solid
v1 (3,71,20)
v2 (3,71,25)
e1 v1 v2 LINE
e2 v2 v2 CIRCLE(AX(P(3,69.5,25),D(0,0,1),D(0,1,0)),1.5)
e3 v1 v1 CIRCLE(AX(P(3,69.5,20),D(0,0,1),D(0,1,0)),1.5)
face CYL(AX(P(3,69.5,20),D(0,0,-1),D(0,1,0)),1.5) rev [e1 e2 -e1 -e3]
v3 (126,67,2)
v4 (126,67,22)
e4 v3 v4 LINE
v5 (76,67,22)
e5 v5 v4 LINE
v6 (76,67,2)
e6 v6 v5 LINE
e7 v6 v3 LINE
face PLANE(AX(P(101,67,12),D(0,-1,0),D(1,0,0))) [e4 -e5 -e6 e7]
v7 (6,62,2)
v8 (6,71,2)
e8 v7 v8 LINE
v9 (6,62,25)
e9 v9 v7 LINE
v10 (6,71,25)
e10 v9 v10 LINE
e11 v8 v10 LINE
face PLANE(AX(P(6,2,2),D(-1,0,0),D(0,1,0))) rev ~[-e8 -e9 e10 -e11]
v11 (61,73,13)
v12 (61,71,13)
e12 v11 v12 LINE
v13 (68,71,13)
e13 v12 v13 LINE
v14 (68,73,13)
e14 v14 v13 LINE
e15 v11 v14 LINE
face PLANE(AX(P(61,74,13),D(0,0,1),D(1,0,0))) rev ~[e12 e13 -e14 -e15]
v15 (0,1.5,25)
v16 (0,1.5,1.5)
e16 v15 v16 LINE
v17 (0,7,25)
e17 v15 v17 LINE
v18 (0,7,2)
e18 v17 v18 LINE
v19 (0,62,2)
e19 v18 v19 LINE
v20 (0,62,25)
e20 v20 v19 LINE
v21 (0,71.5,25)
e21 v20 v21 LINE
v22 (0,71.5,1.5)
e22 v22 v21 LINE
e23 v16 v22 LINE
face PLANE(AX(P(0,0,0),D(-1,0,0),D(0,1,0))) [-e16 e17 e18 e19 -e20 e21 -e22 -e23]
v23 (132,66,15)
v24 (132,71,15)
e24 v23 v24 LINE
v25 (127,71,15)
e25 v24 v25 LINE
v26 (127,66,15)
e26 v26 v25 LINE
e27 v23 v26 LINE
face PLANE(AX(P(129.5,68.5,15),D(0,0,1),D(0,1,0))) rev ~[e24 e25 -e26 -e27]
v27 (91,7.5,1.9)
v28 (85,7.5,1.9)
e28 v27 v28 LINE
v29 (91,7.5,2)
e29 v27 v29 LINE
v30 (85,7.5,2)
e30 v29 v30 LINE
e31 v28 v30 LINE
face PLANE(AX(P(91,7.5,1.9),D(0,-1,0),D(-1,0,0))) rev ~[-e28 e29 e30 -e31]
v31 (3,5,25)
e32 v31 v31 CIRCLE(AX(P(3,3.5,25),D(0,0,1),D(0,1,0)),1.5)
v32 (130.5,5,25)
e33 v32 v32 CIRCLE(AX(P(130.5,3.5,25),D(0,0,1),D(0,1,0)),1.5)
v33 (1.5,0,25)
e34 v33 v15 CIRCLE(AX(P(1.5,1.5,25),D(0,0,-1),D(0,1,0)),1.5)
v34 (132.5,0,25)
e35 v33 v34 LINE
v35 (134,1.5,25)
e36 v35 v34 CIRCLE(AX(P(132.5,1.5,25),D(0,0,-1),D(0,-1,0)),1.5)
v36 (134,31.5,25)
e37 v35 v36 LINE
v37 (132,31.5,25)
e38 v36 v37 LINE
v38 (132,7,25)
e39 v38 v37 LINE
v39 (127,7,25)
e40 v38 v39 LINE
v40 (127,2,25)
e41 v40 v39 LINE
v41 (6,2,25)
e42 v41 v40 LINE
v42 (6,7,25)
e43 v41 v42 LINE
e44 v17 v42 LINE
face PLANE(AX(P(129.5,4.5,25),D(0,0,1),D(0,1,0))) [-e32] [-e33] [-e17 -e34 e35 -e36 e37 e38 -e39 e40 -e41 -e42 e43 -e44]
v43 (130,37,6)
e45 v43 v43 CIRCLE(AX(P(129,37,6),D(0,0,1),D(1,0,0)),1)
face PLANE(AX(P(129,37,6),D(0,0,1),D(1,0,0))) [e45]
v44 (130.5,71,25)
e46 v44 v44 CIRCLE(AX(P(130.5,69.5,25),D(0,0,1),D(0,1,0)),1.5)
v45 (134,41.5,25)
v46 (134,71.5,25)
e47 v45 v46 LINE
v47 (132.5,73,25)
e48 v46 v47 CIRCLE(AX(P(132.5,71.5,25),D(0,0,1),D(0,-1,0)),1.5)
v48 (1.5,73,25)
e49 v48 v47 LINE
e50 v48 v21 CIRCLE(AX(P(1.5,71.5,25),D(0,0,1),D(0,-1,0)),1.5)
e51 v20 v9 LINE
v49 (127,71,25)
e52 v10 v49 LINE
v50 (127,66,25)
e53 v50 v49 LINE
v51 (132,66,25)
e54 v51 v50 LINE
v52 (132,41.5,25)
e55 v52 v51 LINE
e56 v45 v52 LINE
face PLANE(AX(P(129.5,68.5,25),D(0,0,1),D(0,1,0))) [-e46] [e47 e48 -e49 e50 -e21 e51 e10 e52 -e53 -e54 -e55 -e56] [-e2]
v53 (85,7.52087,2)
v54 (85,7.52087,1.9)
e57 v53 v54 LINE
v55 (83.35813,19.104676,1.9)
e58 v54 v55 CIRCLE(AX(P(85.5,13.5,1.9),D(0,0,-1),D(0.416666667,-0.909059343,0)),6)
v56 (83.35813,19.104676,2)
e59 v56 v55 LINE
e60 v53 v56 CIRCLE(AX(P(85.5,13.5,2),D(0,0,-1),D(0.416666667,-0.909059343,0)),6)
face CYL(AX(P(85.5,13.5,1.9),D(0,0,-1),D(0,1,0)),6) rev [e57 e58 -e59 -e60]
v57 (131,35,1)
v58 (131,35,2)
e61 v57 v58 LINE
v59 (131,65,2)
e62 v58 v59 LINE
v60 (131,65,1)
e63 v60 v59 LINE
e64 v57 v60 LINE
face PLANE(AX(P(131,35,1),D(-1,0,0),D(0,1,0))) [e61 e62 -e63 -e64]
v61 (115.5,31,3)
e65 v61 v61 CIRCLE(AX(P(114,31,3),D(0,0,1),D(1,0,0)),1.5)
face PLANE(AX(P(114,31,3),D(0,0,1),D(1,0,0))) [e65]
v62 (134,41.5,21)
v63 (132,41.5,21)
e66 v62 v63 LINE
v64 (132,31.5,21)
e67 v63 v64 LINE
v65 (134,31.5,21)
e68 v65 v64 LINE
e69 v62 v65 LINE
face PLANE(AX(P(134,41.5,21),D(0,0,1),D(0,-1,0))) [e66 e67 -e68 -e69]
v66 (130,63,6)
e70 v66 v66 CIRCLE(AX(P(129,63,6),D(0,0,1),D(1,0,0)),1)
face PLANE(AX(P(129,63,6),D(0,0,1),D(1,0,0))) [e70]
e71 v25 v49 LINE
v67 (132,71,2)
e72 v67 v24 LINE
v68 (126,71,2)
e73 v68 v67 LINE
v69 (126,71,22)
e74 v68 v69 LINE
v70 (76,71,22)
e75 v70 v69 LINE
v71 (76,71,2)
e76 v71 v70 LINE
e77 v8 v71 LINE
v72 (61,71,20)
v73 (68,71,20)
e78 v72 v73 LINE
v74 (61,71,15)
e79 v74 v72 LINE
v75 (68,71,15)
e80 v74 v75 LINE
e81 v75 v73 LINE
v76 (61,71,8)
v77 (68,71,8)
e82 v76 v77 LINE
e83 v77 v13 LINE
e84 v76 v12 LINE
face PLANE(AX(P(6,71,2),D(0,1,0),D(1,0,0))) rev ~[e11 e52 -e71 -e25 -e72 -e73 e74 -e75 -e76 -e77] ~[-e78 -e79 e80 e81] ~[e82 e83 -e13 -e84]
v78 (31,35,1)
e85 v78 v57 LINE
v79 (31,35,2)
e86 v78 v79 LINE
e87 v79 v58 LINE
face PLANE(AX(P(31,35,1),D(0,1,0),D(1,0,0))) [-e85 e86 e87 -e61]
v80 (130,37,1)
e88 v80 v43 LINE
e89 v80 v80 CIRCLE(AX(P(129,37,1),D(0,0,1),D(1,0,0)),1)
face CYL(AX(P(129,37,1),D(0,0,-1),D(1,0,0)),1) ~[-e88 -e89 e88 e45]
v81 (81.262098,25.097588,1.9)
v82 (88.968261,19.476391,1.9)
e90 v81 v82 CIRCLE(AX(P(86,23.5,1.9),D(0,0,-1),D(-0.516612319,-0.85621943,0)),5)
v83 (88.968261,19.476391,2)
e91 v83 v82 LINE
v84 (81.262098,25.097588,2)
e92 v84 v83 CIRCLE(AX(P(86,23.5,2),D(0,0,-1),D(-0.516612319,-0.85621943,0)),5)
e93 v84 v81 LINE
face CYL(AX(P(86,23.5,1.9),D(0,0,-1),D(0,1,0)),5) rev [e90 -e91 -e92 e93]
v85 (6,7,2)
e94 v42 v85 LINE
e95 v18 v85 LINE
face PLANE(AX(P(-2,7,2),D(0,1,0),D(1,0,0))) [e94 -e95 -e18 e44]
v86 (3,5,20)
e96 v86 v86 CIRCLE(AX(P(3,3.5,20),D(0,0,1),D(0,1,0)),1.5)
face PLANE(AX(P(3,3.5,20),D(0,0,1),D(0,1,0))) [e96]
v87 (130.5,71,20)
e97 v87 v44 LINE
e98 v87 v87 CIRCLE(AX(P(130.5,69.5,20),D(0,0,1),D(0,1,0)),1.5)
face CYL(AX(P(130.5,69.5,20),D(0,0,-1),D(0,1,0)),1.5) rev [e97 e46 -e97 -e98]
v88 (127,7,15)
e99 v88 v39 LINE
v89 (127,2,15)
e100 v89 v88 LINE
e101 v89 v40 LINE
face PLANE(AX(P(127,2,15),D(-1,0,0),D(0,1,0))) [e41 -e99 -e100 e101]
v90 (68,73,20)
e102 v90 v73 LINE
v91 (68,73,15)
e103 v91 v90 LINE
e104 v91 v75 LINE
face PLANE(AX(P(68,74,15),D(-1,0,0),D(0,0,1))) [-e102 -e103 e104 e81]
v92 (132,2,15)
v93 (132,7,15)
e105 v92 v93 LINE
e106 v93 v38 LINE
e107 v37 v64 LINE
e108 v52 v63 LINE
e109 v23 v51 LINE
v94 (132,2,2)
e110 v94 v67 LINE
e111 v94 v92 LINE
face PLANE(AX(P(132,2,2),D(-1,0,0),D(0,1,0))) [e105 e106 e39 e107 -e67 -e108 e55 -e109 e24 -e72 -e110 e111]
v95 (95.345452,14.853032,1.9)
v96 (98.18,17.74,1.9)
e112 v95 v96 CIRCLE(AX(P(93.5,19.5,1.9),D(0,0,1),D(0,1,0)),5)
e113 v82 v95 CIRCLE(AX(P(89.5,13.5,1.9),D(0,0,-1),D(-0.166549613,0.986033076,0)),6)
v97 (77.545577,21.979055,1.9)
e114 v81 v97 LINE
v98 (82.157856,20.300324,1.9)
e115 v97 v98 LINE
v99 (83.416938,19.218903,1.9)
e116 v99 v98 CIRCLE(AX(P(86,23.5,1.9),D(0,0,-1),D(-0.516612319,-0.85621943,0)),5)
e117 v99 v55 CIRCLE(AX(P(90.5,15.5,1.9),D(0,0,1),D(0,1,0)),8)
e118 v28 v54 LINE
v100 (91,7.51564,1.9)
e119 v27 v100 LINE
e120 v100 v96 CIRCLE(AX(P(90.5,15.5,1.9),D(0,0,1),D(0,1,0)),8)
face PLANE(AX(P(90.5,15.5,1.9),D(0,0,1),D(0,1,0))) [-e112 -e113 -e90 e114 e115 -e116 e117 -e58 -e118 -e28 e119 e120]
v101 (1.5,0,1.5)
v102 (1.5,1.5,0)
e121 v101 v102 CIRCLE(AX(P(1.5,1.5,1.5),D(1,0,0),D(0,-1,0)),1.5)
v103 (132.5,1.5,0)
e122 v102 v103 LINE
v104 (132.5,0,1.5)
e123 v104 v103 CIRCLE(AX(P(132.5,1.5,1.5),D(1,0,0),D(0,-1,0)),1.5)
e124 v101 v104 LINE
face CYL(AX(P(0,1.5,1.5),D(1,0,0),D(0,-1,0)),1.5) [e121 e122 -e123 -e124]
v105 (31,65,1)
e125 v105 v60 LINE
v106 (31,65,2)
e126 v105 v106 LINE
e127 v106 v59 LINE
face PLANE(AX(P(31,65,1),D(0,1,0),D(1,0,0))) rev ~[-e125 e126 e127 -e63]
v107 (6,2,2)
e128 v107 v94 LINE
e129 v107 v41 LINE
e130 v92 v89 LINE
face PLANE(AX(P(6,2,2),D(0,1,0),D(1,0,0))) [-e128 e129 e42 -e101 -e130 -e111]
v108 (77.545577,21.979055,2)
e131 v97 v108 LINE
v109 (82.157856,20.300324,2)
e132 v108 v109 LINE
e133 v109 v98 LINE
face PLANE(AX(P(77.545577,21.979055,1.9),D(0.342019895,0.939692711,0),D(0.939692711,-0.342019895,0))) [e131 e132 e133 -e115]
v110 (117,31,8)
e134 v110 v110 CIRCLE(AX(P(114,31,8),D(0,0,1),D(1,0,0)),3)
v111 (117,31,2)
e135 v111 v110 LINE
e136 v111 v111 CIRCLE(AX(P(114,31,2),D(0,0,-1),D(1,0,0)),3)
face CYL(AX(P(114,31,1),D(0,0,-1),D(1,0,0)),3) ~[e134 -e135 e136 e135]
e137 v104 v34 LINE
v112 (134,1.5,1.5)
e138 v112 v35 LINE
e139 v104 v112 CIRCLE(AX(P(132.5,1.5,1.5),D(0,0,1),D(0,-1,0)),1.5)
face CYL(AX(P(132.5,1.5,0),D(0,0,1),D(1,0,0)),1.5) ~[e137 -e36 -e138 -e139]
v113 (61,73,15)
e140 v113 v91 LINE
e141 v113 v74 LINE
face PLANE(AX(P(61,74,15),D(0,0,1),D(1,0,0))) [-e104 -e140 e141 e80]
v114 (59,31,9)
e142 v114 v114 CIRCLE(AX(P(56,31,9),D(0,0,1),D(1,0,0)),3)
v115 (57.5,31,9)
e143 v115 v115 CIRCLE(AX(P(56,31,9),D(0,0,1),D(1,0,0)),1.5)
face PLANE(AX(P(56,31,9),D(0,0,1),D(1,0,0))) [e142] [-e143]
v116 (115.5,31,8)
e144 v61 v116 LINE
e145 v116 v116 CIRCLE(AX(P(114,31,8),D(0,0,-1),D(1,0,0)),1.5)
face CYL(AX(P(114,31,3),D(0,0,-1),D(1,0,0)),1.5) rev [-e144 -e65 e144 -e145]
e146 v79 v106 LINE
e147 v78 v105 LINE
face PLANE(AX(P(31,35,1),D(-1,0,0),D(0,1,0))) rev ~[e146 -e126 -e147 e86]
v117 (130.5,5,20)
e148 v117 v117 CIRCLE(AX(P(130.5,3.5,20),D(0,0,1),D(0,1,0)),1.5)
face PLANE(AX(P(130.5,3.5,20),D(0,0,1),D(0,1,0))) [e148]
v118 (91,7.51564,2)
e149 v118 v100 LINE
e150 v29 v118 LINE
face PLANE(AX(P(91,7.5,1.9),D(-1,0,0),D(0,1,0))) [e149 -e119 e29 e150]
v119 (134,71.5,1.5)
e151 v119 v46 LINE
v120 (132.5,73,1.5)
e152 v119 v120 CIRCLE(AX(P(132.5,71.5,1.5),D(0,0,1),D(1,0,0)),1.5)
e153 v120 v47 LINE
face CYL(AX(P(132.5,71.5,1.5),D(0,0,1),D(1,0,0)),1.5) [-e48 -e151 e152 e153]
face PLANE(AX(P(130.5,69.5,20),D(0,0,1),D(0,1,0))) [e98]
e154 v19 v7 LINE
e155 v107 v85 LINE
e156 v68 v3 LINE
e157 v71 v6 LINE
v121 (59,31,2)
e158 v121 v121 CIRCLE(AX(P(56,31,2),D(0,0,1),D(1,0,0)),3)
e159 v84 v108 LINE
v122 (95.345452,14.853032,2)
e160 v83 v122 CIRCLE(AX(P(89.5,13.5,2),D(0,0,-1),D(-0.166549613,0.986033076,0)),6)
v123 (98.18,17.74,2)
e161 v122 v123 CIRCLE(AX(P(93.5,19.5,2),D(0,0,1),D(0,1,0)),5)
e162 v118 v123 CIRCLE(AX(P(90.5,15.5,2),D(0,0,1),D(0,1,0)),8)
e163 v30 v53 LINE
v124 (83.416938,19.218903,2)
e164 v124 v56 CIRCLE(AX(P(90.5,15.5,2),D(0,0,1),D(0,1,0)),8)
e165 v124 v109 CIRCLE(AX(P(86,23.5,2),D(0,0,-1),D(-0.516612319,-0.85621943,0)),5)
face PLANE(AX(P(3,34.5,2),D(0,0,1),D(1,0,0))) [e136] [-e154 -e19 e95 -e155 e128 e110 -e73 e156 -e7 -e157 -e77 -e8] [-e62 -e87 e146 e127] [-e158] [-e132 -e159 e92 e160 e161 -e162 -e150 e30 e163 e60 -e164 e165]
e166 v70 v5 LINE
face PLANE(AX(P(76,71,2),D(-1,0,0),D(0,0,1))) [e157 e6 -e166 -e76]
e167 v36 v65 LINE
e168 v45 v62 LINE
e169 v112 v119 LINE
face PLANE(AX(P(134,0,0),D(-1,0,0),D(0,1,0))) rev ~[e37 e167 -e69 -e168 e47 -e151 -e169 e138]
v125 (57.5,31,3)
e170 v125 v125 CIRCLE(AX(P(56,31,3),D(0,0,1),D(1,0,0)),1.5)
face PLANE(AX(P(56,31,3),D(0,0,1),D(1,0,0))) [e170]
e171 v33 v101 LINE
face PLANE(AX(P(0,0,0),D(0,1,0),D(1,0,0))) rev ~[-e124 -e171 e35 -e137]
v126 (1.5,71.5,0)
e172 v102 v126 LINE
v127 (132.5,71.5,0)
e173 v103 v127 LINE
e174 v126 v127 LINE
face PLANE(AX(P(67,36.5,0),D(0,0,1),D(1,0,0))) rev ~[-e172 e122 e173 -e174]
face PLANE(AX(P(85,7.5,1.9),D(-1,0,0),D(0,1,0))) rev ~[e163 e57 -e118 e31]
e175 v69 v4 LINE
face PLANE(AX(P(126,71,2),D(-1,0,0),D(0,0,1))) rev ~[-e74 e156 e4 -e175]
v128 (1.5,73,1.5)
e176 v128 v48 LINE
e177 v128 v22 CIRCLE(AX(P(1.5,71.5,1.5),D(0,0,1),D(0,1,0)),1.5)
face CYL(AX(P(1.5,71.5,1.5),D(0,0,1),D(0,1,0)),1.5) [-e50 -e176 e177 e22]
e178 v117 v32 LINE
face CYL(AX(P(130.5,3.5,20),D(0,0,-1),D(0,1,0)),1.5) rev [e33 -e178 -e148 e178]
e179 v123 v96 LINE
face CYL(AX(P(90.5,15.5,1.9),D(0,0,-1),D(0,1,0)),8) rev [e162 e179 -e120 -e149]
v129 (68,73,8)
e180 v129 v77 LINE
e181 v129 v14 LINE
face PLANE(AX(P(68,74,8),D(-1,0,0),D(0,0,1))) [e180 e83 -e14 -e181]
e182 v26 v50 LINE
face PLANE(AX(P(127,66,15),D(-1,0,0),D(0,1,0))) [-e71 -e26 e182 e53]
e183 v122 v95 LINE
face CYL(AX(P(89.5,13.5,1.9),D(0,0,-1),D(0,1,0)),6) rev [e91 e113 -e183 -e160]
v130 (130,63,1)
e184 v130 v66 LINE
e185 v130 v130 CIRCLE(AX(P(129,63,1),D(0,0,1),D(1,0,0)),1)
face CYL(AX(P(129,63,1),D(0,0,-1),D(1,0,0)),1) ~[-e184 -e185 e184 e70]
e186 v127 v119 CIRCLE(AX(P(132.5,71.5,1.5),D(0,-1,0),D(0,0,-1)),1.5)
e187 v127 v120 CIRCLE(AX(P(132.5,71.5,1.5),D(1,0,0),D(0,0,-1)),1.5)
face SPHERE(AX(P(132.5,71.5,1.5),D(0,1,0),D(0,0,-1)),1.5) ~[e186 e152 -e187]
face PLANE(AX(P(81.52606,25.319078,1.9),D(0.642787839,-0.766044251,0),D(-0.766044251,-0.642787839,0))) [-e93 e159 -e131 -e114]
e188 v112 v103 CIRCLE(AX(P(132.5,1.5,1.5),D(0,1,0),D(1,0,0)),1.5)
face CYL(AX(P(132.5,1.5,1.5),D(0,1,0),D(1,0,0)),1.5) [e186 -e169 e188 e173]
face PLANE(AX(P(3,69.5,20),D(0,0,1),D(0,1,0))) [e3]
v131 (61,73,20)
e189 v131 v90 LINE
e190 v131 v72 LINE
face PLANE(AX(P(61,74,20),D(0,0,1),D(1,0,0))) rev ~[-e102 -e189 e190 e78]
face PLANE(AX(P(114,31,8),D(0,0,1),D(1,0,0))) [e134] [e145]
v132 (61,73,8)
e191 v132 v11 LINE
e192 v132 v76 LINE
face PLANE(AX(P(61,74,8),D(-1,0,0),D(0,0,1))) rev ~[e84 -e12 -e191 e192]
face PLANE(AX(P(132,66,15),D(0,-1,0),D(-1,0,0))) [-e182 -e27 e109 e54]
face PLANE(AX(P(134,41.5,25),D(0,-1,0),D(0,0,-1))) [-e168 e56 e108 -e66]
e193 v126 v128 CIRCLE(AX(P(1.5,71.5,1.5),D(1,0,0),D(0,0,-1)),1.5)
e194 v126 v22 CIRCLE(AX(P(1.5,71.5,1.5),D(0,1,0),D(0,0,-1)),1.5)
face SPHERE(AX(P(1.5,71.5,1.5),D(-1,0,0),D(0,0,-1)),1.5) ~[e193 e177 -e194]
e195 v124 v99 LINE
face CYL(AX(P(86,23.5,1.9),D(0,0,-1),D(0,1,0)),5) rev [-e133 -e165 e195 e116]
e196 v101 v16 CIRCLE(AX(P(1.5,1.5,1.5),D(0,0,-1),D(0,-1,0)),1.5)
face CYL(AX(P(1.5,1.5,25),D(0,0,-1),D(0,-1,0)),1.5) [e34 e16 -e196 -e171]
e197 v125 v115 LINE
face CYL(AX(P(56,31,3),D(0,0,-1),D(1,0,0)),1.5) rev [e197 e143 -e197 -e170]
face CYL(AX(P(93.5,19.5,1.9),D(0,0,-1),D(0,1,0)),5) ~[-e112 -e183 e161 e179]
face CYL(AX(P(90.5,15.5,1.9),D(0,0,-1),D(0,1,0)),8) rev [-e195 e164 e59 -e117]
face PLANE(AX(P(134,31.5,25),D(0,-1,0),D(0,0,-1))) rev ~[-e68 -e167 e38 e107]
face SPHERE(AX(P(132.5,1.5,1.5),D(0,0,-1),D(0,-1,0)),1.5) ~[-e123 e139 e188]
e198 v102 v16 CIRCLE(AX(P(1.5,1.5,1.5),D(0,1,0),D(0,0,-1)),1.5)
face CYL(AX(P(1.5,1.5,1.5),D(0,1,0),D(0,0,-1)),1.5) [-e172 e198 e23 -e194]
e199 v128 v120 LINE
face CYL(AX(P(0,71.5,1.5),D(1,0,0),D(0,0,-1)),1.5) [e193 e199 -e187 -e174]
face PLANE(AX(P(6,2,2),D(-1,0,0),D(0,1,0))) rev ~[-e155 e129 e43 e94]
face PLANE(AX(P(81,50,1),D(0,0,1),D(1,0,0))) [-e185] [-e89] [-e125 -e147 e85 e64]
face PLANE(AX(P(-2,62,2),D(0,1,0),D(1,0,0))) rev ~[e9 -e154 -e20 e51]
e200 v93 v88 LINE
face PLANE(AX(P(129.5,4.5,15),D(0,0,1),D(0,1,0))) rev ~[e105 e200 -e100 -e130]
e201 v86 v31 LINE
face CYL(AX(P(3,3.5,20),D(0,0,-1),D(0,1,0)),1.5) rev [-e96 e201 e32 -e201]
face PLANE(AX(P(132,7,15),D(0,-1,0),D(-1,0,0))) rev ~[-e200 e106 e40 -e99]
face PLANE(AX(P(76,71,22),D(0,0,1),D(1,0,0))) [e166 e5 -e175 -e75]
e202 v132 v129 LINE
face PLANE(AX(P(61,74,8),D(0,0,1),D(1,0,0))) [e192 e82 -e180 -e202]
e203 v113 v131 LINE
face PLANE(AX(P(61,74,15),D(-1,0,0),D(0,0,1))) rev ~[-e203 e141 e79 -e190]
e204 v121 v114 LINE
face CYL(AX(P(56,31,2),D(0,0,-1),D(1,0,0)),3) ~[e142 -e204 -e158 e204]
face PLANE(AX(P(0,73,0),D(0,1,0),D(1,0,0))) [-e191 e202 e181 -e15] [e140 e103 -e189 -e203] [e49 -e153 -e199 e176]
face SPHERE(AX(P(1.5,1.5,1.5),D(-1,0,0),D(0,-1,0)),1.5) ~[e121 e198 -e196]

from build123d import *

# Parameters (mm, degrees)
BOX_W             = 134
BOX_H             = 73
BOX_DEPTH         = 25
BOX001_W          = 126
BOX001_H          = 69
BOX001_DEPTH      = 23
BOX002_W          = 10
BOX002_H          = 55
BOX002_DEPTH      = 23
BOX003_W          = 100
BOX003_H          = 30
BOX003_DEPTH      = 1
CYLINDER_R        = 1
CYLINDER_DEPTH    = 5
CYLINDER001_R     = 1
CYLINDER001_DEPTH = 5
CYLINDER002_R     = 3
CYLINDER002_DEPTH = 7
CYLINDER003_R     = 1.5
CYLINDER003_DEPTH = 6
CYLINDER004_R     = 3
CYLINDER004_DEPTH = 7
CYLINDER005_R     = 1.5
CYLINDER005_DEPTH = 6
BOX004_W          = 7
BOX004_H          = 5
BOX004_DEPTH      = 7
BOX005_W          = 7
BOX005_H          = 5
BOX005_DEPTH      = 5
BOX006_W          = 50
BOX006_H          = 20
BOX006_DEPTH      = 4
BOX007_W          = 4
BOX007_H          = 10
BOX007_DEPTH      = 2
CYLINDER006_R     = 1.5
CYLINDER006_DEPTH = 5
CYLINDER007_R     = 1.5
CYLINDER007_DEPTH = 5
BOX008_W          = 5
BOX008_H          = 5
BOX008_DEPTH      = 10
BOX009_W          = 5
BOX009_H          = 5
BOX009_DEPTH      = 10
CYLINDER008_R     = 1.5
CYLINDER008_DEPTH = 5
CYLINDER009_R     = 1.5
CYLINDER009_DEPTH = 5
FILLET_R          = 1.5
FILLET001_R       = 1.5
FILLET002_R       = 1.5
FILLET003_R       = 1.5
CYLINDER010_R     = 6
CYLINDER010_DEPTH = 0.1
CYLINDER011_R     = 6
CYLINDER011_DEPTH = 0.1
BOX010_W          = 12
BOX010_H          = 6
BOX010_DEPTH      = 0.1
CYLINDER012_R     = 5
CYLINDER012_DEPTH = 0.1
CYLINDER013_R     = 8
CYLINDER013_DEPTH = 0.1
CYLINDER014_R     = 5
CYLINDER014_DEPTH = 0.1
CYLINDER015_R     = 6
CYLINDER015_DEPTH = 0.1
CYLINDER016_R     = 5
CYLINDER016_DEPTH = 0.1
PRISM_DEPTH       = 0.1


with BuildPart() as part:
    # Box → Box (join)
    with BuildSketch(Plane.XY):
        with Locations((67, 36.5)):
            Rectangle(BOX_W, BOX_H)
    extrude(amount=BOX_DEPTH)

    # Box001 → Box001 (cut)
    with BuildSketch(Plane(origin=(6, 2, 2), x_dir=(1, 0, 0), z_dir=(0, 0, 1))):
        with Locations((63, 34.5)):
            Rectangle(BOX001_W, BOX001_H)
    extrude(amount=BOX001_DEPTH, mode=Mode.SUBTRACT)

    # Box002 → Box002 (cut)
    with BuildSketch(Plane(origin=(-2, 7, 2), x_dir=(1, 0, 0), z_dir=(0, 0, 1))):
        with Locations((5, 27.5)):
            Rectangle(BOX002_W, BOX002_H)
    extrude(amount=BOX002_DEPTH, mode=Mode.SUBTRACT)

    # Box003 → Box003 (cut)
    with BuildSketch(Plane(origin=(31, 35, 1), x_dir=(1, 0, 0), z_dir=(0, 0, 1))):
        with Locations((50, 15)):
            Rectangle(BOX003_W, BOX003_H)
    extrude(amount=BOX003_DEPTH, mode=Mode.SUBTRACT)

    # Cylinder → Cylinder (join)
    with BuildSketch(Plane(origin=(129, 37, 1), x_dir=(1, 0, 0), z_dir=(0, 0, 1))):
        Circle(CYLINDER_R)
    extrude(amount=CYLINDER_DEPTH)

    # Cylinder001 → Cylinder001 (join)
    with BuildSketch(Plane(origin=(129, 63, 1), x_dir=(1, 0, 0), z_dir=(0, 0, 1))):
        Circle(CYLINDER001_R)
    extrude(amount=CYLINDER001_DEPTH)

    # Cylinder002 → Cylinder002 (join)
    with BuildSketch(Plane(origin=(114, 31, 1), x_dir=(1, 0, 0), z_dir=(0, 0, 1))):
        Circle(CYLINDER002_R)
    extrude(amount=CYLINDER002_DEPTH)

    # Cylinder003 → Cylinder003 (cut)
    with BuildSketch(Plane(origin=(114, 31, 3), x_dir=(1, 0, 0), z_dir=(0, 0, 1))):
        Circle(CYLINDER003_R)
    extrude(amount=CYLINDER003_DEPTH, mode=Mode.SUBTRACT)

    # Cylinder004 → Cylinder004 (join)
    with BuildSketch(Plane(origin=(56, 31, 2), x_dir=(1, 0, 0), z_dir=(0, 0, 1))):
        Circle(CYLINDER004_R)
    extrude(amount=CYLINDER004_DEPTH)

    # Cylinder005 → Cylinder005 (cut)
    with BuildSketch(Plane(origin=(56, 31, 3), x_dir=(1, 0, 0), z_dir=(0, 0, 1))):
        Circle(CYLINDER005_R)
    extrude(amount=CYLINDER005_DEPTH, mode=Mode.SUBTRACT)

    # Box004 → Box004 (cut)
    with BuildSketch(Plane(origin=(61, 74, 8), x_dir=(1, 0, 0), z_dir=(0, -1, 0))):
        with Locations((3.5, 2.5)):
            Rectangle(BOX004_W, BOX004_H)
    extrude(amount=BOX004_DEPTH, mode=Mode.SUBTRACT)

    # Box005 → Box005 (cut)
    with BuildSketch(Plane(origin=(61, 74, 15), x_dir=(1, 0, 0), z_dir=(0, -1, 0))):
        with Locations((3.5, 2.5)):
            Rectangle(BOX005_W, BOX005_H)
    extrude(amount=BOX005_DEPTH, mode=Mode.SUBTRACT)

    # Box006 → Box006 (join)
    with BuildSketch(Plane(origin=(76, 71, 2), x_dir=(1, 0, 0), z_dir=(0, -1, 0))):
        with Locations((25, 10)):
            Rectangle(BOX006_W, BOX006_H)
    extrude(amount=BOX006_DEPTH)

    # Box007 → Box007 (cut)
    with BuildSketch(Plane(origin=(134, 41.5, 25), x_dir=(0, 0, -1), z_dir=(-1, 0, 0))):
        with Locations((2, 5)):
            Rectangle(BOX007_W, BOX007_H)
    extrude(amount=BOX007_DEPTH, mode=Mode.SUBTRACT)

    # Cylinder006 → Cylinder006 (cut)
    with BuildSketch(Plane(origin=(3, 3.5, 20), x_dir=(0, 1, 0), z_dir=(0, 0, 1))):
        Circle(CYLINDER006_R)
    extrude(amount=CYLINDER006_DEPTH, mode=Mode.SUBTRACT)

    # Cylinder007 → Cylinder007 (cut)
    with BuildSketch(Plane(origin=(3, 69.5, 20), x_dir=(0, 1, 0), z_dir=(0, 0, 1))):
        Circle(CYLINDER007_R)
    extrude(amount=CYLINDER007_DEPTH, mode=Mode.SUBTRACT)

    # Box008 → Box008 (join)
    with BuildSketch(Plane(origin=(132, 2, 15), x_dir=(0, 1, 0), z_dir=(0, 0, 1))):
        with Locations((2.5, 2.5)):
            Rectangle(BOX008_W, BOX008_H)
    extrude(amount=BOX008_DEPTH)

    # Box009 → Box009 (join)
    with BuildSketch(Plane(origin=(132, 66, 15), x_dir=(0, 1, 0), z_dir=(0, 0, 1))):
        with Locations((2.5, 2.5)):
            Rectangle(BOX009_W, BOX009_H)
    extrude(amount=BOX009_DEPTH)

    # Cylinder008 → Cylinder008 (cut)
    with BuildSketch(Plane(origin=(130.5, 69.5, 20), x_dir=(0, 1, 0), z_dir=(0, 0, 1))):
        Circle(CYLINDER008_R)
    extrude(amount=CYLINDER008_DEPTH, mode=Mode.SUBTRACT)

    # Cylinder009 → Cylinder009 (cut)
    with BuildSketch(Plane(origin=(130.5, 3.5, 20), x_dir=(0, 1, 0), z_dir=(0, 0, 1))):
        Circle(CYLINDER009_R)
    extrude(amount=CYLINDER009_DEPTH, mode=Mode.SUBTRACT)

    # Fillet
    fillet_edges = [part.edges().sort_by_distance(p)[0] for p in [
        (134, 0, 12.5),
    ]]
    fillet(fillet_edges, radius=FILLET_R)

    # Fillet001
    fillet001_edges = [part.edges().sort_by_distance(p)[0] for p in [
        (66.25, 0, 0),
    ]]
    fillet(fillet001_edges, radius=FILLET001_R)

    # Fillet002
    fillet002_edges = [part.edges().sort_by_distance(p)[0] for p in [
        (134, 73, 13.25),
    ]]
    fillet(fillet002_edges, radius=FILLET002_R)

    # Fillet003
    fillet003_edges = [part.edges().sort_by_distance(p)[0] for p in [
        (0, 36.5, 0),
    ]]
    fillet(fillet003_edges, radius=FILLET003_R)

    # Cylinder010 → Cylinder010 (cut)
    with BuildSketch(Plane(origin=(90.5, 13.5, 1.9), x_dir=(0, 1, 0), z_dir=(0, 0, 1))):
        Circle(CYLINDER010_R)
    extrude(amount=CYLINDER010_DEPTH, mode=Mode.SUBTRACT)

    # Cylinder011 → Cylinder011 (cut)
    with BuildSketch(Plane(origin=(85.5, 13.5, 1.9), x_dir=(0, 1, 0), z_dir=(0, 0, 1))):
        Circle(CYLINDER011_R)
    extrude(amount=CYLINDER011_DEPTH, mode=Mode.SUBTRACT)

    # Box010 → Box010 (cut)
    with BuildSketch(Plane(origin=(91, 7.5, 1.9), x_dir=(0, 1, 0), z_dir=(0, 0, 1))):
        with Locations((6, 3)):
            Rectangle(BOX010_W, BOX010_H)
    extrude(amount=BOX010_DEPTH, mode=Mode.SUBTRACT)

    # Cylinder012 → Cylinder012 (cut)
    with BuildSketch(Plane(origin=(86, 23.5, 1.9), x_dir=(0, 1, 0), z_dir=(0, 0, 1))):
        Circle(CYLINDER012_R)
    extrude(amount=CYLINDER012_DEPTH, mode=Mode.SUBTRACT)

    # Cylinder013 → Cylinder013 (cut)
    with BuildSketch(Plane(origin=(90.5, 15.5, 1.9), x_dir=(0, 1, 0), z_dir=(0, 0, 1))):
        Circle(CYLINDER013_R)
    extrude(amount=CYLINDER013_DEPTH, mode=Mode.SUBTRACT)

    # Cylinder014 → Cylinder014 (join)
    with BuildSketch(Plane(origin=(93.5, 19.5, 1.9), x_dir=(0, 1, 0), z_dir=(0, 0, 1))):
        Circle(CYLINDER014_R)
    extrude(amount=CYLINDER014_DEPTH)

    # Cylinder015 → Cylinder015 (cut)
    with BuildSketch(Plane(origin=(89.5, 13.5, 1.9), x_dir=(0, 1, 0), z_dir=(0, 0, 1))):
        Circle(CYLINDER015_R)
    extrude(amount=CYLINDER015_DEPTH, mode=Mode.SUBTRACT)

    # Cylinder016 → Cylinder016 (cut)
    with BuildSketch(Plane(origin=(86, 23.5, 1.9), x_dir=(0, 1, 0), z_dir=(0, 0, 1))):
        Circle(CYLINDER016_R)
    extrude(amount=CYLINDER016_DEPTH, mode=Mode.SUBTRACT)

    # Prism → Prism (cut)
    with BuildSketch(Plane(origin=(80.5, 22.5, 1.9), x_dir=(0.34202, 0.939693, 0), z_dir=(0, 0, 1))):
        Polygon((3, 0), (-1.5, 2.598076), (-1.5, -2.598076), align=None)
    extrude(amount=PRISM_DEPTH, mode=Mode.SUBTRACT)


solid = part.part
